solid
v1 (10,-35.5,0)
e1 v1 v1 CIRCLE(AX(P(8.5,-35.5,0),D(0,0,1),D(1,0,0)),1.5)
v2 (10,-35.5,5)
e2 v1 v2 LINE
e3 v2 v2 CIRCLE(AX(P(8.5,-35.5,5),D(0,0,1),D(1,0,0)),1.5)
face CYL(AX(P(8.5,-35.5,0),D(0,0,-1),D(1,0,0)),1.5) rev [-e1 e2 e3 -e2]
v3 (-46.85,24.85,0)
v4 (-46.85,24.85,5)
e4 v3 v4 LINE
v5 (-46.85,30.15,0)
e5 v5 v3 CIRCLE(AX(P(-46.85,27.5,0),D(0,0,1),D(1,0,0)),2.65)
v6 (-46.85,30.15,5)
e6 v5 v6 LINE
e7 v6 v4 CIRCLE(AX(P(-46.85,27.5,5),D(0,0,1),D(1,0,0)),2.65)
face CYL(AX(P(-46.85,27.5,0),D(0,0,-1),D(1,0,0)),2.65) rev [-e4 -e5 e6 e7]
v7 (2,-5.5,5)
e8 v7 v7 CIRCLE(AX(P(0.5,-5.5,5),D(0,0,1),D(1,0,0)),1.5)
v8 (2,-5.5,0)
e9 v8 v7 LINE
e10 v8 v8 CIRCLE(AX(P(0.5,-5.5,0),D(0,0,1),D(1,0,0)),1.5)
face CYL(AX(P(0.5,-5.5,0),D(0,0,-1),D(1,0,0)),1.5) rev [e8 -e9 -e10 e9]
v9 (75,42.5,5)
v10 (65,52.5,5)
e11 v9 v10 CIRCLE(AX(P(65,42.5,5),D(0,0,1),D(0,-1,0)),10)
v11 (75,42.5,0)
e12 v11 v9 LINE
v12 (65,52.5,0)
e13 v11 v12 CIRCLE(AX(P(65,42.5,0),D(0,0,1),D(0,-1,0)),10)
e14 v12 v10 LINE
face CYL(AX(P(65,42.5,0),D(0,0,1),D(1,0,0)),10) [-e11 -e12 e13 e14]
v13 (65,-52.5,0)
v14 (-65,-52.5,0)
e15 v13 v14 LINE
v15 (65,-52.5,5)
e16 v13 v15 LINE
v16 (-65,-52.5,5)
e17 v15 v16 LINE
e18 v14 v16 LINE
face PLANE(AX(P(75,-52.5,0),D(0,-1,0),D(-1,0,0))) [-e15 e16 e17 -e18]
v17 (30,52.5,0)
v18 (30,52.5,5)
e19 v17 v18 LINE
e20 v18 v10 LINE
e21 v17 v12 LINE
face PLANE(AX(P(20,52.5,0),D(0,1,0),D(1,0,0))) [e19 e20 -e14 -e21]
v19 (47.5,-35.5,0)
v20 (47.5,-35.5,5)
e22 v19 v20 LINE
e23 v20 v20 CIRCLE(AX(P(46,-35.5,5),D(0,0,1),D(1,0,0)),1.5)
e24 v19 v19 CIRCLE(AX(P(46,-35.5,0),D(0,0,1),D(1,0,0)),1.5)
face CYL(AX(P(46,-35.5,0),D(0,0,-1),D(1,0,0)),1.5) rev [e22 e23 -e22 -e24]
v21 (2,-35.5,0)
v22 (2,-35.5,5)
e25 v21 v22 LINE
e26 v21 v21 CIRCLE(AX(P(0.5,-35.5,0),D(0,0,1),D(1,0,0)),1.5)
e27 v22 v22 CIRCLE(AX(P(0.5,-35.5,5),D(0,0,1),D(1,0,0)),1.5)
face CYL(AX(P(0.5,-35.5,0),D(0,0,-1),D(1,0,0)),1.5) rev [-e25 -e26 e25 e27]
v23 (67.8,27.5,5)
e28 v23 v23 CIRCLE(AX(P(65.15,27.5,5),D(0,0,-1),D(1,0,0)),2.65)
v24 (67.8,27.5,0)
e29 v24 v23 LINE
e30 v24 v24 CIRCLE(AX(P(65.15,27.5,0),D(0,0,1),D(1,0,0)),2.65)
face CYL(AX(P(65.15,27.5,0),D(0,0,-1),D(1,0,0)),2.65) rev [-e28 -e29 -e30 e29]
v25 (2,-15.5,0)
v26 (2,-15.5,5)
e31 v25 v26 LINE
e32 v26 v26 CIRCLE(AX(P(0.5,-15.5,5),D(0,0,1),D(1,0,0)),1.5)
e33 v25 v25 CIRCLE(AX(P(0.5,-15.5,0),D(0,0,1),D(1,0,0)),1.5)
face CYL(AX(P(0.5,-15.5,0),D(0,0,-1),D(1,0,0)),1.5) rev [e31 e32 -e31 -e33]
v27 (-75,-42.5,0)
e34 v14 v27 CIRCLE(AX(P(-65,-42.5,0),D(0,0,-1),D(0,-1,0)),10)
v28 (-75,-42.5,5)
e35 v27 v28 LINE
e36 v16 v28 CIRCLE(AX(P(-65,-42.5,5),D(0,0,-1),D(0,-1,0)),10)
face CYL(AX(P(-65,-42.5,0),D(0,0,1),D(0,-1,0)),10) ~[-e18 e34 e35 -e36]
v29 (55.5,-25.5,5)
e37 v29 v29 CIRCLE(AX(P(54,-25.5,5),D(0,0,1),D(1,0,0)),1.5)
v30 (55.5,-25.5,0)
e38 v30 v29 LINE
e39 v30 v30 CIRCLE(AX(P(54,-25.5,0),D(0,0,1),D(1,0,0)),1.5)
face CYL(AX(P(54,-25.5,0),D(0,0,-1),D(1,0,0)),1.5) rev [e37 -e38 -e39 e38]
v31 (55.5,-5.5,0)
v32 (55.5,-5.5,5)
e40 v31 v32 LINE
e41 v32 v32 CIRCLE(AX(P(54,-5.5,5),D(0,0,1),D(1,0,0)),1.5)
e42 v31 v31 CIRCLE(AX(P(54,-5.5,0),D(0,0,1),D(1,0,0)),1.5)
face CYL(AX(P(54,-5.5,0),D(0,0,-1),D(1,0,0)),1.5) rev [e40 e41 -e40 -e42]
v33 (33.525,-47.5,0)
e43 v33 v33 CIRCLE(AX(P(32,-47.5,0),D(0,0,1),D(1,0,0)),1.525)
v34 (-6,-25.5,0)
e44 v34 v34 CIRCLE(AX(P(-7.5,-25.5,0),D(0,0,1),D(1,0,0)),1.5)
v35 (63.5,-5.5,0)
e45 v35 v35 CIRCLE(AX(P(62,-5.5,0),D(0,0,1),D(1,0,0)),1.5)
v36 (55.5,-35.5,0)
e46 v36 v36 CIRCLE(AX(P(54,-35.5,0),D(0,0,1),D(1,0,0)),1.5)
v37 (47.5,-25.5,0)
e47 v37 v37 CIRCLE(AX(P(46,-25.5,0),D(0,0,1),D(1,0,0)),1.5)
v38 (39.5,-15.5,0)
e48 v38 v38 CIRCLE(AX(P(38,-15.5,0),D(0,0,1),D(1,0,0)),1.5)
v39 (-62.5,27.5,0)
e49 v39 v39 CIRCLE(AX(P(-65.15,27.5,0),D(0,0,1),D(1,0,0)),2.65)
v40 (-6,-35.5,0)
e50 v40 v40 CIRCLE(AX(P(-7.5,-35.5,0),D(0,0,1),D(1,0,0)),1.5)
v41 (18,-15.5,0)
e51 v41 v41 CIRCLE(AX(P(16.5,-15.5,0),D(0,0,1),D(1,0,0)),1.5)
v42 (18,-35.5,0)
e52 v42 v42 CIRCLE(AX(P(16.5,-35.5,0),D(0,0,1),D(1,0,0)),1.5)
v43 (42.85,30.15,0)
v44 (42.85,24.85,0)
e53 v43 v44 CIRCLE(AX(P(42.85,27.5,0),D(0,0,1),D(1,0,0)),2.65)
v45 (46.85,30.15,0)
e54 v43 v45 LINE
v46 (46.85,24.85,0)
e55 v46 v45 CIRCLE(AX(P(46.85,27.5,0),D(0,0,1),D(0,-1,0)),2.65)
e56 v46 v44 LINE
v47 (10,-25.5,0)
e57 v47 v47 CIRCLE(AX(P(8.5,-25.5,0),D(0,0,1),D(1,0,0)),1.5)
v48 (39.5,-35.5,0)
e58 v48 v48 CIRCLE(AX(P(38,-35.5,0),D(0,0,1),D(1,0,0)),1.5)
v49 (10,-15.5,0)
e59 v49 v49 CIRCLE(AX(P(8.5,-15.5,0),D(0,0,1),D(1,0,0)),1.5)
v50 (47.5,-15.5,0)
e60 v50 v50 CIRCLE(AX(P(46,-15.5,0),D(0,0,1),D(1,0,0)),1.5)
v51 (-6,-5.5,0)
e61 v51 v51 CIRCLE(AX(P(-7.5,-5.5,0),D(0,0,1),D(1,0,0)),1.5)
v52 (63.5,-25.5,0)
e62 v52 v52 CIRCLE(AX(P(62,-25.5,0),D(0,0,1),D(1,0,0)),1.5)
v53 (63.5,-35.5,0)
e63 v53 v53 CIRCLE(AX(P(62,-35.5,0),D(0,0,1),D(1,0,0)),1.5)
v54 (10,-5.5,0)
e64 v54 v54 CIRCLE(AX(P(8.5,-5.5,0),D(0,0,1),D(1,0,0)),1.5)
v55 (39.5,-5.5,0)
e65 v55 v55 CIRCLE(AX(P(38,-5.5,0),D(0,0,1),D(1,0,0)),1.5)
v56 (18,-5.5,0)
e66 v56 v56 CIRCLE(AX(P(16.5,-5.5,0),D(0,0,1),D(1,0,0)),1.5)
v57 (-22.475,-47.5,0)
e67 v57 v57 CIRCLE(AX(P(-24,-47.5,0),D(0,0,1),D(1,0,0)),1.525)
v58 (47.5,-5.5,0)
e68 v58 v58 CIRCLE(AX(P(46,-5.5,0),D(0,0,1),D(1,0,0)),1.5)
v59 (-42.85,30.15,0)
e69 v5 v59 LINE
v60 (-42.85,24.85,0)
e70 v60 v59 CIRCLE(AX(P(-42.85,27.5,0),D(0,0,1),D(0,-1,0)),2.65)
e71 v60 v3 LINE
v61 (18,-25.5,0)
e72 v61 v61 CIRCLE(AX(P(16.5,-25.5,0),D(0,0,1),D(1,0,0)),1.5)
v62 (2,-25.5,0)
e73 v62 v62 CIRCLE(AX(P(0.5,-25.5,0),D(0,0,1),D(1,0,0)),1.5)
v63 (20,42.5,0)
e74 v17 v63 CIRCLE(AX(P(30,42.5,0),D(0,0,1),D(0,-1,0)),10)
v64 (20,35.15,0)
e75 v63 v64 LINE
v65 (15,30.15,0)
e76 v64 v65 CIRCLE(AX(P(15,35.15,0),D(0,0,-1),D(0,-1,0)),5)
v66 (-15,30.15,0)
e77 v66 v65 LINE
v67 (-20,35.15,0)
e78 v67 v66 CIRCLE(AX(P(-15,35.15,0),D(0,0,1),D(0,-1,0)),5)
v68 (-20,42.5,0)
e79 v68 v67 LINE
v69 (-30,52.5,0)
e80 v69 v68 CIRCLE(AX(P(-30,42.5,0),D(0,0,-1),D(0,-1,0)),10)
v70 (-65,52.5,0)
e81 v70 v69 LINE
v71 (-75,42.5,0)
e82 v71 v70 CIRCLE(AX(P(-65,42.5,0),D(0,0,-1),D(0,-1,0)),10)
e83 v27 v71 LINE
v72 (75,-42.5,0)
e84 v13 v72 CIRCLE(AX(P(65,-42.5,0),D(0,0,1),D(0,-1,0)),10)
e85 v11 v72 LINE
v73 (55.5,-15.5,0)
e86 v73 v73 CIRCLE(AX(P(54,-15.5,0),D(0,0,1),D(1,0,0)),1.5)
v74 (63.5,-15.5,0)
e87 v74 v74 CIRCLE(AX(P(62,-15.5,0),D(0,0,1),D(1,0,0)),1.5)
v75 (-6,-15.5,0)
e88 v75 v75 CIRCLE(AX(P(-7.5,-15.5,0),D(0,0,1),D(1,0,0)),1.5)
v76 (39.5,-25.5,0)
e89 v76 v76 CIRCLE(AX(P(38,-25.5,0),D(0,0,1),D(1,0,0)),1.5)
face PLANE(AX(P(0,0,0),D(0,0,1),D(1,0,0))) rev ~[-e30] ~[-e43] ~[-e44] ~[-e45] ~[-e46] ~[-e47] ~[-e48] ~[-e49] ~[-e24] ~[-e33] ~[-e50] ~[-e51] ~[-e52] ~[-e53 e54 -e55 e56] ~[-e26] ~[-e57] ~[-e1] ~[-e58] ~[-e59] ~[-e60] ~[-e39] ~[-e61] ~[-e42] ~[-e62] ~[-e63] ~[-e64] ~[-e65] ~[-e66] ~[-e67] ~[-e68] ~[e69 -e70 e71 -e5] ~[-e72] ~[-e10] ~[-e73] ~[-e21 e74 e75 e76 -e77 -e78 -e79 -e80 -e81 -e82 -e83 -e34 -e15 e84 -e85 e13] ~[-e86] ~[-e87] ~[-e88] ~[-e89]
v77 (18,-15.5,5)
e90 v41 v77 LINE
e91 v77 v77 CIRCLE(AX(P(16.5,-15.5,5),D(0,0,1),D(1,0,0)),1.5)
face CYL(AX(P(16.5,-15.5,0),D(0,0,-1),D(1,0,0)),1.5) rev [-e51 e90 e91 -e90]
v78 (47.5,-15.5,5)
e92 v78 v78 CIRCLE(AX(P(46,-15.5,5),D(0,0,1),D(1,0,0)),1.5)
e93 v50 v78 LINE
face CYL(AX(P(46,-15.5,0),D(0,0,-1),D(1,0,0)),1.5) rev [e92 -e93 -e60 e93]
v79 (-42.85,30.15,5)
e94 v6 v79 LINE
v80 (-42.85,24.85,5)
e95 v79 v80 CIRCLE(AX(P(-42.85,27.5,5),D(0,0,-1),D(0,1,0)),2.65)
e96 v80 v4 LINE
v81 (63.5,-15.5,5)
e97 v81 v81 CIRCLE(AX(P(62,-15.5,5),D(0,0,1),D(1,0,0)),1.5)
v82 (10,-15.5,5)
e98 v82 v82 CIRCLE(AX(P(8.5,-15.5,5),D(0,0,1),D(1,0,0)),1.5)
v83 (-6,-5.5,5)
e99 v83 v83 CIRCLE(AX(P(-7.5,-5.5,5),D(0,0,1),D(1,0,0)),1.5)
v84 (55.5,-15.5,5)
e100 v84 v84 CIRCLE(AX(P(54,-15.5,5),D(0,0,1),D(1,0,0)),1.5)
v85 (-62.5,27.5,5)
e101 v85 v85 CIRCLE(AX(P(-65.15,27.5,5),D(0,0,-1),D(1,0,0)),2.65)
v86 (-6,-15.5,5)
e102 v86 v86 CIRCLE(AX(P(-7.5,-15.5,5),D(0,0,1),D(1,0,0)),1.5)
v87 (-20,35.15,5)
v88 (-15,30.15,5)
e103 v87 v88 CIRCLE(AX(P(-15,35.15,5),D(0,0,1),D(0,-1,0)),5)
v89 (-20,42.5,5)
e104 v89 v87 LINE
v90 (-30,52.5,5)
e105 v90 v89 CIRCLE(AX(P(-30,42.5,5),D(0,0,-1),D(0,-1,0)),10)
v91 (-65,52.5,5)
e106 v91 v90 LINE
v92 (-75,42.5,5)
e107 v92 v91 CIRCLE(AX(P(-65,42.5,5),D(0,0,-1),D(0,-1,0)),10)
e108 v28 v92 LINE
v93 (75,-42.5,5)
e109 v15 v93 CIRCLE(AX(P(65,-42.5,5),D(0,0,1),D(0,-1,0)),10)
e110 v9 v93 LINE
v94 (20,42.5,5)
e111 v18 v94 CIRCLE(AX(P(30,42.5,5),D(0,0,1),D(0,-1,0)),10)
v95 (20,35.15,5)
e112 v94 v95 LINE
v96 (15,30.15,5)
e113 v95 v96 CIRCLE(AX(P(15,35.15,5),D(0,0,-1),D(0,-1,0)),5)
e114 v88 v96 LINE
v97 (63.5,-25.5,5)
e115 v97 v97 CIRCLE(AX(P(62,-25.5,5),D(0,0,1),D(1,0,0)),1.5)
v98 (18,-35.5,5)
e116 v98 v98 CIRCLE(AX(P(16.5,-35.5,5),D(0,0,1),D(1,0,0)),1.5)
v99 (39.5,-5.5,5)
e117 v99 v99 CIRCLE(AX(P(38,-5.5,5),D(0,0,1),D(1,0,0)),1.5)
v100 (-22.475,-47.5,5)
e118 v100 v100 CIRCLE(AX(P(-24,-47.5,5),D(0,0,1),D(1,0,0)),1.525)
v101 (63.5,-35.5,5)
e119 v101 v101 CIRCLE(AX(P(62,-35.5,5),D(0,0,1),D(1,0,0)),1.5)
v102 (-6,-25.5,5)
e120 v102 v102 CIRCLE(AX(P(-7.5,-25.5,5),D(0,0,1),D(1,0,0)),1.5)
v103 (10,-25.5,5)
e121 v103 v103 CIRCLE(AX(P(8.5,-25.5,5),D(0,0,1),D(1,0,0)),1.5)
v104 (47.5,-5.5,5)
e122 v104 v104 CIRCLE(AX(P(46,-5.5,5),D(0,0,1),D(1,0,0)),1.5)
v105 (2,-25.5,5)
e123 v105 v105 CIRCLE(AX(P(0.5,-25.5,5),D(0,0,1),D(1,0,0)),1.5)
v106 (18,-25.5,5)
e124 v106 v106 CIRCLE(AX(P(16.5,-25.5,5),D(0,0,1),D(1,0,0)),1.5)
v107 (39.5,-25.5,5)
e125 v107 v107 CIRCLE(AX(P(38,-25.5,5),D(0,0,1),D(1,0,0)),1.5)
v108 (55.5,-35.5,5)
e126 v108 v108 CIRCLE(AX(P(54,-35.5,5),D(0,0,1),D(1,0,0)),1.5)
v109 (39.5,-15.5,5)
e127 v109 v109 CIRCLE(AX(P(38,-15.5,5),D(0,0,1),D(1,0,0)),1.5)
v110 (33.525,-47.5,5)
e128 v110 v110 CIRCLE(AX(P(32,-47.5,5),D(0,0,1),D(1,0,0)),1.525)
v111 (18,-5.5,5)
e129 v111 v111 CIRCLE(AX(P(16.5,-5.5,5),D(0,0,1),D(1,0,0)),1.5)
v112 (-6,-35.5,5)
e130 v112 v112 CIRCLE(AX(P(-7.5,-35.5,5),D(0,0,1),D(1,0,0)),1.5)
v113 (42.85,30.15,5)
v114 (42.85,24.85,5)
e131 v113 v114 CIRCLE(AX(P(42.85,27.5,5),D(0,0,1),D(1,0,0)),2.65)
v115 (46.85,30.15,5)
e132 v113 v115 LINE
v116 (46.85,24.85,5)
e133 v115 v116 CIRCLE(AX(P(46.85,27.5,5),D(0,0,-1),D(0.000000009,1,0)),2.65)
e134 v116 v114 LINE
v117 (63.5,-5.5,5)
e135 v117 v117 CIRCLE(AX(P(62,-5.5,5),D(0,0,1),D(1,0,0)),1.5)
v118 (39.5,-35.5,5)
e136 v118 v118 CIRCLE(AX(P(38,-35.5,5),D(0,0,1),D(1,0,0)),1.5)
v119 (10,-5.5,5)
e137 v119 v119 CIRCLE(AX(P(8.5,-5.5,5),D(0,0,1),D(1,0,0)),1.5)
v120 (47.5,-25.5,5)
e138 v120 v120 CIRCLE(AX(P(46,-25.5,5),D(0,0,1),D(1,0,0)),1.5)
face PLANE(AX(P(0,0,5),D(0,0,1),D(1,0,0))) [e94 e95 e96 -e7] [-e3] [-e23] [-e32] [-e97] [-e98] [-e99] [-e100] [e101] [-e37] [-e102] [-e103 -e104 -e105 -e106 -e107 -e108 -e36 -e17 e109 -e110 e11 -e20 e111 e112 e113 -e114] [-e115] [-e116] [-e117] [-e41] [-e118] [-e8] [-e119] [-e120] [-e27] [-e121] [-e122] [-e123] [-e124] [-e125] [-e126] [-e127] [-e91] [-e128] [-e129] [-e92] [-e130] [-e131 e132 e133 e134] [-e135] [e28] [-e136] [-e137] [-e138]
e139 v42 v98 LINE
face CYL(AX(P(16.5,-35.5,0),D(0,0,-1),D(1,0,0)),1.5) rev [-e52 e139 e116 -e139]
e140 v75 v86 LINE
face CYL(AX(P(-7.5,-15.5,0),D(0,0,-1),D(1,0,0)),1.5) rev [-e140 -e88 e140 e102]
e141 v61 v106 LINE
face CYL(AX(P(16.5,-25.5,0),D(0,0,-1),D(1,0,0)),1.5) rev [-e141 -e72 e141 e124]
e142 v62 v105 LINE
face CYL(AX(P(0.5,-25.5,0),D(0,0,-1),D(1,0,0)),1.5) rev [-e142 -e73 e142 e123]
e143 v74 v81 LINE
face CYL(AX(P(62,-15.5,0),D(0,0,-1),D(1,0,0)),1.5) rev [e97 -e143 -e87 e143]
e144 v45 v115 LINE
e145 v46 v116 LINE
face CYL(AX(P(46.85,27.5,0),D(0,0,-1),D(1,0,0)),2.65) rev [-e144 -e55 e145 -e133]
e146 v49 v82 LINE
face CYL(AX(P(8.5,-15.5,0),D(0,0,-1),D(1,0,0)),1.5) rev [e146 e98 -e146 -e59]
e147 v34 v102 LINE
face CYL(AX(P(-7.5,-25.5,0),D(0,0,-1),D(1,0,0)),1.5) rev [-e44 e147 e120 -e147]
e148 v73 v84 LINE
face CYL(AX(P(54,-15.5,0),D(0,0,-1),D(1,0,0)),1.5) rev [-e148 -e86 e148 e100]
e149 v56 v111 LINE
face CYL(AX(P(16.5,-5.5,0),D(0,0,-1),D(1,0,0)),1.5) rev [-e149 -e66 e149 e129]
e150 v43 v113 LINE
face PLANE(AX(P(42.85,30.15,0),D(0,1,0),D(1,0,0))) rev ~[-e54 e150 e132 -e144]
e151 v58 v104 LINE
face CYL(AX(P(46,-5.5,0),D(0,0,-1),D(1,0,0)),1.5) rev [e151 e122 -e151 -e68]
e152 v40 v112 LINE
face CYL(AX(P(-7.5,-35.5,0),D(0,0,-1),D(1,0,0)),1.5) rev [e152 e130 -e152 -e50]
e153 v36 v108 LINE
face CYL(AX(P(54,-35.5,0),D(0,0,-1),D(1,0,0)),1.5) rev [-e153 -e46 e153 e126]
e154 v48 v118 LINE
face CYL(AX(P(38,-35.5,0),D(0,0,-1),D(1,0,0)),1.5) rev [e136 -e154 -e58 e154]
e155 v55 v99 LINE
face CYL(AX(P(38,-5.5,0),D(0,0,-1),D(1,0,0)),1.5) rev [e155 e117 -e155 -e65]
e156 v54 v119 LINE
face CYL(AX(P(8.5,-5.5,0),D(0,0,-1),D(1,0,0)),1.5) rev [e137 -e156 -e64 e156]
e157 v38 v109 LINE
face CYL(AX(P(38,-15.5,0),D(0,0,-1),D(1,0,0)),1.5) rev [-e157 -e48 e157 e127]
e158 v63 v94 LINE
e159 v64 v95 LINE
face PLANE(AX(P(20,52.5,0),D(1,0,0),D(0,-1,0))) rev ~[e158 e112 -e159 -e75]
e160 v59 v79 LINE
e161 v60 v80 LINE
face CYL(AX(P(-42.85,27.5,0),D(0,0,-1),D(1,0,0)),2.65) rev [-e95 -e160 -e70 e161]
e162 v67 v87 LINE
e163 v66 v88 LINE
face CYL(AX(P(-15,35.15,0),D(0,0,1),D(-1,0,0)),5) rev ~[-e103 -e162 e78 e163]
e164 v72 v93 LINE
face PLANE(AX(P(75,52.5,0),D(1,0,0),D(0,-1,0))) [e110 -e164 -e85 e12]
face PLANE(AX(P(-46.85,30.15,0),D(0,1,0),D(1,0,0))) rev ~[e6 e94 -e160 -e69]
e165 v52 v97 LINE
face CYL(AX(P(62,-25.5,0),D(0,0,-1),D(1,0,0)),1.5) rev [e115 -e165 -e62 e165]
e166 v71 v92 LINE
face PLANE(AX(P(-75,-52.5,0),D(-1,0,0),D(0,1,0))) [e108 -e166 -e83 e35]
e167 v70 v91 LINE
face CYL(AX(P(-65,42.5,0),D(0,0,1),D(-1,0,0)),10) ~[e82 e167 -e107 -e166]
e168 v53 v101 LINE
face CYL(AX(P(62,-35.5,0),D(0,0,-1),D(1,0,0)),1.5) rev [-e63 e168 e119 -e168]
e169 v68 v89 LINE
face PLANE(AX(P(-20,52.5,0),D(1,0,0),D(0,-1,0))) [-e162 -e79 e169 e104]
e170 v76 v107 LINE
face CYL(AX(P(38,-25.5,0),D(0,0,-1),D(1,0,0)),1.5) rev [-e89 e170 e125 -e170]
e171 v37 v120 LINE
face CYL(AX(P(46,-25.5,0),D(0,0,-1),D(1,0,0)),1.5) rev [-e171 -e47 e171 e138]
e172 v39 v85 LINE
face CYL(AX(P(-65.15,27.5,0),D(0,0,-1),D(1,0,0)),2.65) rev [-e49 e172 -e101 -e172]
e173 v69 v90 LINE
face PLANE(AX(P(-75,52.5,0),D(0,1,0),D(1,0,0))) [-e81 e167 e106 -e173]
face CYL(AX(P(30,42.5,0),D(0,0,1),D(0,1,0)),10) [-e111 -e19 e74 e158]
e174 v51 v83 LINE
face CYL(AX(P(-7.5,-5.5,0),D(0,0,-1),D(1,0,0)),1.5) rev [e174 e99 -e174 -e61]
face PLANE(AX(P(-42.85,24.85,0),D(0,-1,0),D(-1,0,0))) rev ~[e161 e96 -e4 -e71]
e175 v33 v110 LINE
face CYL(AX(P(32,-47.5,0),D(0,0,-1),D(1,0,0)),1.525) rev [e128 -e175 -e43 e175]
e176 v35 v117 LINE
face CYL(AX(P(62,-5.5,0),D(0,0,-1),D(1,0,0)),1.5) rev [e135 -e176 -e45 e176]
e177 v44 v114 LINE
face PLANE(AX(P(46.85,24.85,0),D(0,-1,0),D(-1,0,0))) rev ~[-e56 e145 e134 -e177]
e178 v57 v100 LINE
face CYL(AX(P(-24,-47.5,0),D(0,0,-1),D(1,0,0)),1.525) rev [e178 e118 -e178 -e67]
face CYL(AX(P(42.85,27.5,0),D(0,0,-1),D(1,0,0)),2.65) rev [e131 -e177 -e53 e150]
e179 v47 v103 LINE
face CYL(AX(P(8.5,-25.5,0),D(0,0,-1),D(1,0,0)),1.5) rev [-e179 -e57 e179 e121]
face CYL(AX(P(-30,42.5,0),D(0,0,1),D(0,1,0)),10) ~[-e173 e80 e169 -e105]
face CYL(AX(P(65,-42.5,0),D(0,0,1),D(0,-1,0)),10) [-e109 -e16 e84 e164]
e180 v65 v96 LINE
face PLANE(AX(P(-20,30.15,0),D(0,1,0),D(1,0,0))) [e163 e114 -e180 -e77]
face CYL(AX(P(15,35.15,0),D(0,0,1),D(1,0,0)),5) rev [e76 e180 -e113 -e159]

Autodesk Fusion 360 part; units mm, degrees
sketch "草图1" plane through (0, 0, 0) normal (0, 0, 1) x (1, 0, 0)
  line L0 (75, -52.5) -> (-75, -52.5)
  line L1 (-75, -52.5) -> (-75, 52.5)
  line L2 (-75, 52.5) -> (75, 52.5)
  line L3 (75, 52.5) -> (75, -52.5)
  line L4 (75, -52.5) -> (-75, 52.5) construction
  line L5 (-75, -52.5) -> (75, 52.5) construction
  line L6 (-75, 27.5) -> (75, 27.5) construction
  line L7 (0, 52.5) -> (0, 0) construction
  line L8 (-35, 52.5) -> (-35, 27.5) construction
  line L9 (35, 52.5) -> (35, 27.5) construction
  circle A0 centre (-65.15, 27.5) radius 2.65
  circle A1 centre (65.15, 27.5) radius 2.65
  line L10 (-65.15, 30.15) -> (-65.15, 24.85) construction
  line L11 (65.15, 24.85) -> (65.15, 30.15) construction
  line L12 (65.15, 24.85) -> (-65.15, 24.85)
  line L13 (-65.15, 30.15) -> (65.15, 30.15)
  circle A2 centre (-46.85, 27.5) radius 2.65
  circle A3 centre (-42.85, 27.5) radius 2.65
  circle A4 centre (42.85, 27.5) radius 2.65
  circle A5 centre (46.85, 27.5) radius 2.65
  line L14 (-75, -5.5) -> (75, -5.5) construction
  line L15 (-75, -35.5) -> (75, -35.5) construction
  line L16 (-75, -47.5) -> (75, -47.5) construction
  circle A6 centre (-24, -47.5) radius 1.525
  circle A7 centre (32, -47.5) radius 1.525
  line L17 (-75, -25.5) -> (75, -25.5) construction
  line L18 (-75, -15.5) -> (75, -15.5) construction
  line L19 (62, -35.5) -> (62, -5.5) construction
  line L20 (-7.5, -35.5) -> (-7.5, -5.5) construction
  line L21 (0.5, -35.5) -> (0.5, -5.5) construction
  line L22 (8.5, -35.5) -> (8.5, -5.5) construction
  line L23 (16.5, -35.5) -> (16.5, -5.5) construction
  line L24 (38, -35.5) -> (38, -5.5) construction
  line L25 (46, -35.5) -> (46, -5.5) construction
  line L26 (54, -35.5) -> (54, -5.5) construction
  circle A8 centre (62, -5.5) radius 1.5
  circle A9 centre (62, -15.5) radius 1.5
  circle A10 centre (62, -25.5) radius 1.5
  circle A11 centre (62, -35.5) radius 1.5
  circle A12 centre (54, -5.5) radius 1.5
  circle A13 centre (54, -15.5) radius 1.5
  circle A14 centre (54, -25.5) radius 1.5
  circle A15 centre (54, -35.5) radius 1.5
  circle A16 centre (46, -5.5) radius 1.5
  circle A17 centre (46, -15.5) radius 1.5
  circle A18 centre (46, -25.5) radius 1.5
  circle A19 centre (38, -25.5) radius 1.5
  circle A20 centre (38, -5.5) radius 1.5
  circle A21 centre (38, -15.5) radius 1.5
  circle A22 centre (38, -35.5) radius 1.5
  circle A23 centre (46, -35.5) radius 1.5
  circle A24 centre (16.5, -5.5) radius 1.5
  circle A25 centre (8.5, -5.5) radius 1.5
  circle A26 centre (0.5, -5.5) radius 1.5
  circle A27 centre (-7.5, -5.5) radius 1.5
  circle A28 centre (16.5, -15.5) radius 1.5
  circle A29 centre (8.5, -15.5) radius 1.5
  circle A30 centre (0.5, -15.5) radius 1.5
  circle A31 centre (-7.5, -15.5) radius 1.5
  circle A32 centre (-7.5, -25.5) radius 1.5
  circle A33 centre (0.5, -25.5) radius 1.5
  circle A34 centre (8.5, -25.5) radius 1.5
  circle A35 centre (16.5, -25.5) radius 1.5
  circle A36 centre (16.5, -35.5) radius 1.5
  circle A37 centre (8.5, -35.5) radius 1.5
  circle A38 centre (0.5, -35.5) radius 1.5
  circle A39 centre (-7.5, -35.5) radius 1.5
  line L27 (-20, 52.5) -> (-20, 30.15)
  line L28 (20, 52.5) -> (20, 30.15)
  point P0 (-65.15, 27.5)
  point P1 (65.15, 27.5)
  point P2 (-44.85, 27.5)
  point P3 (44.85, 27.5)
  point P4 (0, 27.5)
  point P5 (-46.85, 27.5)
  point P6 (-42.85, 27.5)
  point P7 (42.85, 27.5)
  point P8 (46.85, 27.5)
  point P9 (32, -47.5)
  point P10 (-24, -47.5)
  point P11 (0.5, -35.5)
  point P12 (8.5, -35.5)
  point P13 (16.5, -35.5)
  point P14 (-7.5, -25.5)
  point P15 (-7.5, -5.5)
  point P16 (-7.5, -35.5)
  point P17 (-7.5, -15.5)
  point P18 (-7.5, -25.5)
  point P19 (62, -35.5)
  point P20 (62, -25.5)
  point P21 (62, -15.5)
  point P22 (62, -5.5)
  point P23 (54, -35.5)
  point P24 (46, -35.5)
  point P25 (38, -35.5)
  point P26 (0.5, -25.5)
  point P27 (0.5, -15.5)
  point P28 (0.5, -5.5)
  point P29 (8.5, -25.5)
  point P30 (8.5, -15.5)
  point P31 (8.5, -5.5)
  point P32 (16.5, -25.5)
  point P33 (16.5, -15.5)
  point P34 (16.5, -5.5)
  point P35 (38, -25.5)
  point P36 (38, -15.5)
  point P37 (38, -5.5)
  point P38 (46, -25.5)
  point P39 (46, -15.5)
  point P40 (46, -5.5)
  point P41 (54, -25.5)
  point P42 (54, -15.5)
  point P43 (54, -5.5)
  dimension "d1" = 150
  dimension "d2" = 105
  dimension "d3" = 25
  dimension "d4" = 20.3
  dimension "d5" = 20.3
  dimension "d6" = 9.85
  dimension "d7" = 44.85
  dimension "d8" = 9.85
  dimension "d9" = 44.85
  dimension "d10" = 40
  dimension "d11" = 40
  dimension "d12" = 70
  dimension "d13" = 5.3
  dimension "d14" = 5.3
  dimension "d15" = 2
  dimension "d16" = 2
  dimension "d17" = 2
  dimension "d18" = 2
  dimension "d20" = 30
  dimension "d24" = 56
  dimension "d25" = 3.05
  dimension "d26" = 3.05
  dimension "d27" = 10
  dimension "d28" = 10
  dimension "d29" = 10
  dimension "d30" = 13
  dimension "d35" = 8
  dimension "d36" = 16
  dimension "d37" = 24
  dimension "d38" = 3
  dimension "d39" = 3
  dimension "d40" = 3
  dimension "d41" = 3
  dimension "d42" = 3
  dimension "d43" = 3
  dimension "d44" = 3
  dimension "d45" = 3
  dimension "d46" = 3
  dimension "d47" = 3
  dimension "d48" = 3
  dimension "d49" = 3
  dimension "d50" = 3
  dimension "d51" = 3
  dimension "d52" = 3
  dimension "d53" = 3
  dimension "d54" = 3
  dimension "d55" = 3
  dimension "d56" = 3
  dimension "d57" = 3
  dimension "d58" = 3
  dimension "d59" = 3
  dimension "d60" = 3
  dimension "d61" = 3
  dimension "d62" = 3
  dimension "d63" = 3
  dimension "d64" = 3
  dimension "d65" = 3
  dimension "d66" = 3
  dimension "d67" = 3
  dimension "d68" = 3
  dimension "d69" = 3
  dimension "d72" = 21.5
  dimension "d73" = 21.5
  dimension "d74" = 8
  dimension "d75" = 8
  dimension "d76" = 8
  dimension "d77" = 20
  dimension "d84" = 51
  dimension "d87" = 5
  dimension "d88" = 12
extrude "拉伸4" add sketch "草图1" along normal blind 5 contours L0 L1 L2 L3 A0 A1 L12 L13 L27 L28 | L12 L13 A3 A4 | A1 L12 L13 A5 | A0 L12 L13 A2
fillet "圆角3" radius 10 6 edges at (-75, 52.5, 2.5) (-75, -52.5, 2.5) (75, -52.5, 2.5) (-20, 52.5, 2.5) (75, 52.5, 2.5) (20, 52.5, 2.5)
fillet "圆角4" radius 5 2 edges at (-20, 30.15, 2.5) (20, 30.15, 2.5)
sketch "草图2" plane through (0, 0, 5) normal (0, 0, 1) x (-1, 0, 0)
  arc A0 (-30, -52.5) -> (-20, -42.5) centre (-30, -42.5) ccw
  line L0 (-20, -42.5) -> (-20, -35.15)
  arc A1 (-15, -30.15) -> (-20, -35.15) centre (-15, -35.15) ccw
  line L1 (-15, -30.15) -> (15, -30.15)
  arc A2 (20, -35.15) -> (15, -30.15) centre (15, -35.15) ccw
  line L2 (20, -35.15) -> (20, -42.5)
  arc A3 (20, -42.5) -> (30, -52.5) centre (30, -42.5) ccw
  line L3 (30, -52.5) -> (65, -52.5)
  arc A4 (65, -52.5) -> (75, -42.5) centre (65, -42.5) ccw
  line L4 (75, -42.5) -> (75, 42.5)
  arc A5 (75, 42.5) -> (65, 52.5) centre (65, 42.5) ccw
  line L5 (65, 52.5) -> (-65, 52.5)
  arc A6 (-65, 52.5) -> (-75, 42.5) centre (-65, 42.5) ccw
  line L6 (-75, 42.5) -> (-75, -42.5)
  arc A7 (-75, -42.5) -> (-65, -52.5) centre (-65, -42.5) ccw
  line L7 (-65, -52.5) -> (-30, -52.5)
  circle A8 centre (7.5, 15.5) radius 1.5
  circle A9 centre (7.5, 25.5) radius 1.5
  circle A10 centre (-8.5, 25.5) radius 1.5
  circle A11 centre (-0.5, 25.5) radius 1.5
  arc A12 (46.85, -30.15) -> (46.85, -24.85) centre (46.85, -27.5) ccw
  line L8 (46.85, -30.15) -> (42.85, -30.15)
  arc A13 (42.85, -24.85) -> (42.85, -30.15) centre (42.85, -27.5) ccw
  line L9 (42.85, -24.85) -> (46.85, -24.85)
  circle A14 centre (65.15, -27.5) radius 2.65
  arc A15 (-42.85, -30.15) -> (-42.85, -24.85) centre (-42.85, -27.5) ccw
  line L10 (-42.85, -30.15) -> (-46.85, -30.15)
  arc A16 (-46.85, -24.85) -> (-46.85, -30.15) centre (-46.85, -27.5) ccw
  line L11 (-46.85, -24.85) -> (-42.85, -24.85)
  circle A17 centre (-0.5, 35.5) radius 1.5
  circle A18 centre (-16.5, 25.5) radius 1.5
  circle A19 centre (-16.5, 35.5) radius 1.5
  circle A20 centre (-8.5, 35.5) radius 1.5
  circle A21 centre (-65.15, -27.5) radius 2.65
  circle A22 centre (7.5, 35.5) radius 1.5
  circle A23 centre (-0.5, 15.5) radius 1.5
  circle A24 centre (-8.5, 15.5) radius 1.5
  circle A25 centre (-16.5, 15.5) radius 1.5
  circle A26 centre (7.5, 5.5) radius 1.5
  circle A27 centre (-0.5, 5.5) radius 1.5
  circle A28 centre (-8.5, 5.5) radius 1.5
  circle A29 centre (-16.5, 5.5) radius 1.5
  circle A30 centre (-46, 35.5) radius 1.5
  circle A31 centre (-38, 35.5) radius 1.5
  circle A32 centre (-38, 15.5) radius 1.5
  circle A33 centre (-38, 5.5) radius 1.5
  circle A34 centre (-38, 25.5) radius 1.5
  circle A35 centre (-46, 25.5) radius 1.5
  circle A36 centre (-46, 15.5) radius 1.5
  circle A37 centre (-46, 5.5) radius 1.5
  circle A38 centre (-54, 35.5) radius 1.5
  circle A39 centre (-54, 25.5) radius 1.5
  circle A40 centre (-54, 15.5) radius 1.5
  circle A41 centre (-54, 5.5) radius 1.5
  circle A42 centre (-62, 35.5) radius 1.5
  circle A43 centre (-62, 25.5) radius 1.5
  circle A44 centre (-62, 15.5) radius 1.5
  circle A45 centre (-62, 5.5) radius 1.5
  circle A46 centre (-32, 47.5) radius 1.525
  circle A47 centre (24, 47.5) radius 1.525
  circle A48 centre (-32, 47.5) radius 1.525
  circle A49 centre (24, 47.5) radius 1.525
  circle A50 centre (7.5, 35.5) radius 1.5
  circle A51 centre (-0.5, 35.5) radius 1.5
  circle A52 centre (-8.5, 35.5) radius 1.5
  circle A53 centre (-16.5, 35.5) radius 1.5
  circle A54 centre (-38, 35.5) radius 1.5
  circle A55 centre (-46, 35.5) radius 1.5
  circle A56 centre (-54, 35.5) radius 1.5
  circle A57 centre (-62, 35.5) radius 1.5
  circle A58 centre (-62, 25.5) radius 1.5
  circle A59 centre (-54, 25.5) radius 1.5
  circle A60 centre (-46, 25.5) radius 1.5
  circle A61 centre (-38, 25.5) radius 1.5
  circle A62 centre (-16.5, 25.5) radius 1.5
  circle A63 centre (-8.5, 25.5) radius 1.5
  circle A64 centre (-0.5, 25.5) radius 1.5
  circle A65 centre (7.5, 25.5) radius 1.5
  circle A66 centre (7.5, 15.5) radius 1.5
  circle A67 centre (-0.5, 15.5) radius 1.5
  circle A68 centre (-8.5, 15.5) radius 1.5
  circle A69 centre (-16.5, 15.5) radius 1.5
  circle A70 centre (-38, 15.5) radius 1.5
  circle A71 centre (-46, 15.5) radius 1.5
  circle A72 centre (-54, 15.5) radius 1.5
  circle A73 centre (-62, 15.5) radius 1.5
  circle A74 centre (-62, 5.5) radius 1.5
  circle A75 centre (-54, 5.5) radius 1.5
  circle A76 centre (-46, 5.5) radius 1.5
  circle A77 centre (-38, 5.5) radius 1.5
  circle A78 centre (-16.5, 5.5) radius 1.5
  circle A79 centre (-8.5, 5.5) radius 1.5
  circle A80 centre (-0.5, 5.5) radius 1.5
  circle A81 centre (7.5, 5.5) radius 1.5
  circle A82 centre (65.15, -27.5) radius 2.65
  circle A83 centre (-65.15, -27.5) radius 2.65
  line L12 (-46.85, -24.85) -> (-42.85, -24.85)
  line L13 (-46.85, -30.15) -> (-42.85, -30.15)
  arc A84 (-46.85, -24.85) -> (-46.85, -30.15) centre (-46.85, -27.5) ccw
  arc A85 (-42.85, -30.15) -> (-42.85, -24.85) centre (-42.85, -27.5) ccw
  arc A86 (42.85, -24.85) -> (42.85, -30.15) centre (42.85, -27.5) ccw
  arc A87 (46.85, -30.15) -> (46.85, -24.85) centre (46.85, -27.5) ccw
  line L14 (42.85, -24.85) -> (46.85, -24.85)
  line L15 (42.85, -30.15) -> (46.85, -30.15)
  line L16 (-65, -52.5) -> (-30, -52.5)
  line L17 (-20, -42.5) -> (-20, -35.15)
  line L18 (20, -35.15) -> (20, -42.5)
  line L19 (15, -30.15) -> (-15, -30.15)
  line L20 (30, -52.5) -> (65, -52.5)
  line L21 (-75, -42.5) -> (-75, 42.5)
  line L22 (-65, 52.5) -> (65, 52.5)
  line L23 (75, 42.5) -> (75, -42.5)
  arc A88 (-65, 52.5) -> (-75, 42.5) centre (-65, 42.5) ccw
  arc A89 (75, 42.5) -> (65, 52.5) centre (65, 42.5) ccw
  arc A90 (65, -52.5) -> (75, -42.5) centre (65, -42.5) ccw
  arc A91 (20, -42.5) -> (30, -52.5) centre (30, -42.5) ccw
  arc A92 (20, -35.15) -> (15, -30.15) centre (15, -35.15) ccw
  arc A93 (-15, -30.15) -> (-20, -35.15) centre (-15, -35.15) ccw
  arc A94 (-30, -52.5) -> (-20, -42.5) centre (-30, -42.5) ccw
  arc A95 (-75, -42.5) -> (-65, -52.5) centre (-65, -42.5) ccw
  dimension "d95" = 21.5
extrude "拉伸3" [suppressed]
extrude "拉伸2" [suppressed]
fillet "圆角1" [suppressed]
fillet "圆角2" [suppressed]
extrude "拉伸1" [suppressed]
